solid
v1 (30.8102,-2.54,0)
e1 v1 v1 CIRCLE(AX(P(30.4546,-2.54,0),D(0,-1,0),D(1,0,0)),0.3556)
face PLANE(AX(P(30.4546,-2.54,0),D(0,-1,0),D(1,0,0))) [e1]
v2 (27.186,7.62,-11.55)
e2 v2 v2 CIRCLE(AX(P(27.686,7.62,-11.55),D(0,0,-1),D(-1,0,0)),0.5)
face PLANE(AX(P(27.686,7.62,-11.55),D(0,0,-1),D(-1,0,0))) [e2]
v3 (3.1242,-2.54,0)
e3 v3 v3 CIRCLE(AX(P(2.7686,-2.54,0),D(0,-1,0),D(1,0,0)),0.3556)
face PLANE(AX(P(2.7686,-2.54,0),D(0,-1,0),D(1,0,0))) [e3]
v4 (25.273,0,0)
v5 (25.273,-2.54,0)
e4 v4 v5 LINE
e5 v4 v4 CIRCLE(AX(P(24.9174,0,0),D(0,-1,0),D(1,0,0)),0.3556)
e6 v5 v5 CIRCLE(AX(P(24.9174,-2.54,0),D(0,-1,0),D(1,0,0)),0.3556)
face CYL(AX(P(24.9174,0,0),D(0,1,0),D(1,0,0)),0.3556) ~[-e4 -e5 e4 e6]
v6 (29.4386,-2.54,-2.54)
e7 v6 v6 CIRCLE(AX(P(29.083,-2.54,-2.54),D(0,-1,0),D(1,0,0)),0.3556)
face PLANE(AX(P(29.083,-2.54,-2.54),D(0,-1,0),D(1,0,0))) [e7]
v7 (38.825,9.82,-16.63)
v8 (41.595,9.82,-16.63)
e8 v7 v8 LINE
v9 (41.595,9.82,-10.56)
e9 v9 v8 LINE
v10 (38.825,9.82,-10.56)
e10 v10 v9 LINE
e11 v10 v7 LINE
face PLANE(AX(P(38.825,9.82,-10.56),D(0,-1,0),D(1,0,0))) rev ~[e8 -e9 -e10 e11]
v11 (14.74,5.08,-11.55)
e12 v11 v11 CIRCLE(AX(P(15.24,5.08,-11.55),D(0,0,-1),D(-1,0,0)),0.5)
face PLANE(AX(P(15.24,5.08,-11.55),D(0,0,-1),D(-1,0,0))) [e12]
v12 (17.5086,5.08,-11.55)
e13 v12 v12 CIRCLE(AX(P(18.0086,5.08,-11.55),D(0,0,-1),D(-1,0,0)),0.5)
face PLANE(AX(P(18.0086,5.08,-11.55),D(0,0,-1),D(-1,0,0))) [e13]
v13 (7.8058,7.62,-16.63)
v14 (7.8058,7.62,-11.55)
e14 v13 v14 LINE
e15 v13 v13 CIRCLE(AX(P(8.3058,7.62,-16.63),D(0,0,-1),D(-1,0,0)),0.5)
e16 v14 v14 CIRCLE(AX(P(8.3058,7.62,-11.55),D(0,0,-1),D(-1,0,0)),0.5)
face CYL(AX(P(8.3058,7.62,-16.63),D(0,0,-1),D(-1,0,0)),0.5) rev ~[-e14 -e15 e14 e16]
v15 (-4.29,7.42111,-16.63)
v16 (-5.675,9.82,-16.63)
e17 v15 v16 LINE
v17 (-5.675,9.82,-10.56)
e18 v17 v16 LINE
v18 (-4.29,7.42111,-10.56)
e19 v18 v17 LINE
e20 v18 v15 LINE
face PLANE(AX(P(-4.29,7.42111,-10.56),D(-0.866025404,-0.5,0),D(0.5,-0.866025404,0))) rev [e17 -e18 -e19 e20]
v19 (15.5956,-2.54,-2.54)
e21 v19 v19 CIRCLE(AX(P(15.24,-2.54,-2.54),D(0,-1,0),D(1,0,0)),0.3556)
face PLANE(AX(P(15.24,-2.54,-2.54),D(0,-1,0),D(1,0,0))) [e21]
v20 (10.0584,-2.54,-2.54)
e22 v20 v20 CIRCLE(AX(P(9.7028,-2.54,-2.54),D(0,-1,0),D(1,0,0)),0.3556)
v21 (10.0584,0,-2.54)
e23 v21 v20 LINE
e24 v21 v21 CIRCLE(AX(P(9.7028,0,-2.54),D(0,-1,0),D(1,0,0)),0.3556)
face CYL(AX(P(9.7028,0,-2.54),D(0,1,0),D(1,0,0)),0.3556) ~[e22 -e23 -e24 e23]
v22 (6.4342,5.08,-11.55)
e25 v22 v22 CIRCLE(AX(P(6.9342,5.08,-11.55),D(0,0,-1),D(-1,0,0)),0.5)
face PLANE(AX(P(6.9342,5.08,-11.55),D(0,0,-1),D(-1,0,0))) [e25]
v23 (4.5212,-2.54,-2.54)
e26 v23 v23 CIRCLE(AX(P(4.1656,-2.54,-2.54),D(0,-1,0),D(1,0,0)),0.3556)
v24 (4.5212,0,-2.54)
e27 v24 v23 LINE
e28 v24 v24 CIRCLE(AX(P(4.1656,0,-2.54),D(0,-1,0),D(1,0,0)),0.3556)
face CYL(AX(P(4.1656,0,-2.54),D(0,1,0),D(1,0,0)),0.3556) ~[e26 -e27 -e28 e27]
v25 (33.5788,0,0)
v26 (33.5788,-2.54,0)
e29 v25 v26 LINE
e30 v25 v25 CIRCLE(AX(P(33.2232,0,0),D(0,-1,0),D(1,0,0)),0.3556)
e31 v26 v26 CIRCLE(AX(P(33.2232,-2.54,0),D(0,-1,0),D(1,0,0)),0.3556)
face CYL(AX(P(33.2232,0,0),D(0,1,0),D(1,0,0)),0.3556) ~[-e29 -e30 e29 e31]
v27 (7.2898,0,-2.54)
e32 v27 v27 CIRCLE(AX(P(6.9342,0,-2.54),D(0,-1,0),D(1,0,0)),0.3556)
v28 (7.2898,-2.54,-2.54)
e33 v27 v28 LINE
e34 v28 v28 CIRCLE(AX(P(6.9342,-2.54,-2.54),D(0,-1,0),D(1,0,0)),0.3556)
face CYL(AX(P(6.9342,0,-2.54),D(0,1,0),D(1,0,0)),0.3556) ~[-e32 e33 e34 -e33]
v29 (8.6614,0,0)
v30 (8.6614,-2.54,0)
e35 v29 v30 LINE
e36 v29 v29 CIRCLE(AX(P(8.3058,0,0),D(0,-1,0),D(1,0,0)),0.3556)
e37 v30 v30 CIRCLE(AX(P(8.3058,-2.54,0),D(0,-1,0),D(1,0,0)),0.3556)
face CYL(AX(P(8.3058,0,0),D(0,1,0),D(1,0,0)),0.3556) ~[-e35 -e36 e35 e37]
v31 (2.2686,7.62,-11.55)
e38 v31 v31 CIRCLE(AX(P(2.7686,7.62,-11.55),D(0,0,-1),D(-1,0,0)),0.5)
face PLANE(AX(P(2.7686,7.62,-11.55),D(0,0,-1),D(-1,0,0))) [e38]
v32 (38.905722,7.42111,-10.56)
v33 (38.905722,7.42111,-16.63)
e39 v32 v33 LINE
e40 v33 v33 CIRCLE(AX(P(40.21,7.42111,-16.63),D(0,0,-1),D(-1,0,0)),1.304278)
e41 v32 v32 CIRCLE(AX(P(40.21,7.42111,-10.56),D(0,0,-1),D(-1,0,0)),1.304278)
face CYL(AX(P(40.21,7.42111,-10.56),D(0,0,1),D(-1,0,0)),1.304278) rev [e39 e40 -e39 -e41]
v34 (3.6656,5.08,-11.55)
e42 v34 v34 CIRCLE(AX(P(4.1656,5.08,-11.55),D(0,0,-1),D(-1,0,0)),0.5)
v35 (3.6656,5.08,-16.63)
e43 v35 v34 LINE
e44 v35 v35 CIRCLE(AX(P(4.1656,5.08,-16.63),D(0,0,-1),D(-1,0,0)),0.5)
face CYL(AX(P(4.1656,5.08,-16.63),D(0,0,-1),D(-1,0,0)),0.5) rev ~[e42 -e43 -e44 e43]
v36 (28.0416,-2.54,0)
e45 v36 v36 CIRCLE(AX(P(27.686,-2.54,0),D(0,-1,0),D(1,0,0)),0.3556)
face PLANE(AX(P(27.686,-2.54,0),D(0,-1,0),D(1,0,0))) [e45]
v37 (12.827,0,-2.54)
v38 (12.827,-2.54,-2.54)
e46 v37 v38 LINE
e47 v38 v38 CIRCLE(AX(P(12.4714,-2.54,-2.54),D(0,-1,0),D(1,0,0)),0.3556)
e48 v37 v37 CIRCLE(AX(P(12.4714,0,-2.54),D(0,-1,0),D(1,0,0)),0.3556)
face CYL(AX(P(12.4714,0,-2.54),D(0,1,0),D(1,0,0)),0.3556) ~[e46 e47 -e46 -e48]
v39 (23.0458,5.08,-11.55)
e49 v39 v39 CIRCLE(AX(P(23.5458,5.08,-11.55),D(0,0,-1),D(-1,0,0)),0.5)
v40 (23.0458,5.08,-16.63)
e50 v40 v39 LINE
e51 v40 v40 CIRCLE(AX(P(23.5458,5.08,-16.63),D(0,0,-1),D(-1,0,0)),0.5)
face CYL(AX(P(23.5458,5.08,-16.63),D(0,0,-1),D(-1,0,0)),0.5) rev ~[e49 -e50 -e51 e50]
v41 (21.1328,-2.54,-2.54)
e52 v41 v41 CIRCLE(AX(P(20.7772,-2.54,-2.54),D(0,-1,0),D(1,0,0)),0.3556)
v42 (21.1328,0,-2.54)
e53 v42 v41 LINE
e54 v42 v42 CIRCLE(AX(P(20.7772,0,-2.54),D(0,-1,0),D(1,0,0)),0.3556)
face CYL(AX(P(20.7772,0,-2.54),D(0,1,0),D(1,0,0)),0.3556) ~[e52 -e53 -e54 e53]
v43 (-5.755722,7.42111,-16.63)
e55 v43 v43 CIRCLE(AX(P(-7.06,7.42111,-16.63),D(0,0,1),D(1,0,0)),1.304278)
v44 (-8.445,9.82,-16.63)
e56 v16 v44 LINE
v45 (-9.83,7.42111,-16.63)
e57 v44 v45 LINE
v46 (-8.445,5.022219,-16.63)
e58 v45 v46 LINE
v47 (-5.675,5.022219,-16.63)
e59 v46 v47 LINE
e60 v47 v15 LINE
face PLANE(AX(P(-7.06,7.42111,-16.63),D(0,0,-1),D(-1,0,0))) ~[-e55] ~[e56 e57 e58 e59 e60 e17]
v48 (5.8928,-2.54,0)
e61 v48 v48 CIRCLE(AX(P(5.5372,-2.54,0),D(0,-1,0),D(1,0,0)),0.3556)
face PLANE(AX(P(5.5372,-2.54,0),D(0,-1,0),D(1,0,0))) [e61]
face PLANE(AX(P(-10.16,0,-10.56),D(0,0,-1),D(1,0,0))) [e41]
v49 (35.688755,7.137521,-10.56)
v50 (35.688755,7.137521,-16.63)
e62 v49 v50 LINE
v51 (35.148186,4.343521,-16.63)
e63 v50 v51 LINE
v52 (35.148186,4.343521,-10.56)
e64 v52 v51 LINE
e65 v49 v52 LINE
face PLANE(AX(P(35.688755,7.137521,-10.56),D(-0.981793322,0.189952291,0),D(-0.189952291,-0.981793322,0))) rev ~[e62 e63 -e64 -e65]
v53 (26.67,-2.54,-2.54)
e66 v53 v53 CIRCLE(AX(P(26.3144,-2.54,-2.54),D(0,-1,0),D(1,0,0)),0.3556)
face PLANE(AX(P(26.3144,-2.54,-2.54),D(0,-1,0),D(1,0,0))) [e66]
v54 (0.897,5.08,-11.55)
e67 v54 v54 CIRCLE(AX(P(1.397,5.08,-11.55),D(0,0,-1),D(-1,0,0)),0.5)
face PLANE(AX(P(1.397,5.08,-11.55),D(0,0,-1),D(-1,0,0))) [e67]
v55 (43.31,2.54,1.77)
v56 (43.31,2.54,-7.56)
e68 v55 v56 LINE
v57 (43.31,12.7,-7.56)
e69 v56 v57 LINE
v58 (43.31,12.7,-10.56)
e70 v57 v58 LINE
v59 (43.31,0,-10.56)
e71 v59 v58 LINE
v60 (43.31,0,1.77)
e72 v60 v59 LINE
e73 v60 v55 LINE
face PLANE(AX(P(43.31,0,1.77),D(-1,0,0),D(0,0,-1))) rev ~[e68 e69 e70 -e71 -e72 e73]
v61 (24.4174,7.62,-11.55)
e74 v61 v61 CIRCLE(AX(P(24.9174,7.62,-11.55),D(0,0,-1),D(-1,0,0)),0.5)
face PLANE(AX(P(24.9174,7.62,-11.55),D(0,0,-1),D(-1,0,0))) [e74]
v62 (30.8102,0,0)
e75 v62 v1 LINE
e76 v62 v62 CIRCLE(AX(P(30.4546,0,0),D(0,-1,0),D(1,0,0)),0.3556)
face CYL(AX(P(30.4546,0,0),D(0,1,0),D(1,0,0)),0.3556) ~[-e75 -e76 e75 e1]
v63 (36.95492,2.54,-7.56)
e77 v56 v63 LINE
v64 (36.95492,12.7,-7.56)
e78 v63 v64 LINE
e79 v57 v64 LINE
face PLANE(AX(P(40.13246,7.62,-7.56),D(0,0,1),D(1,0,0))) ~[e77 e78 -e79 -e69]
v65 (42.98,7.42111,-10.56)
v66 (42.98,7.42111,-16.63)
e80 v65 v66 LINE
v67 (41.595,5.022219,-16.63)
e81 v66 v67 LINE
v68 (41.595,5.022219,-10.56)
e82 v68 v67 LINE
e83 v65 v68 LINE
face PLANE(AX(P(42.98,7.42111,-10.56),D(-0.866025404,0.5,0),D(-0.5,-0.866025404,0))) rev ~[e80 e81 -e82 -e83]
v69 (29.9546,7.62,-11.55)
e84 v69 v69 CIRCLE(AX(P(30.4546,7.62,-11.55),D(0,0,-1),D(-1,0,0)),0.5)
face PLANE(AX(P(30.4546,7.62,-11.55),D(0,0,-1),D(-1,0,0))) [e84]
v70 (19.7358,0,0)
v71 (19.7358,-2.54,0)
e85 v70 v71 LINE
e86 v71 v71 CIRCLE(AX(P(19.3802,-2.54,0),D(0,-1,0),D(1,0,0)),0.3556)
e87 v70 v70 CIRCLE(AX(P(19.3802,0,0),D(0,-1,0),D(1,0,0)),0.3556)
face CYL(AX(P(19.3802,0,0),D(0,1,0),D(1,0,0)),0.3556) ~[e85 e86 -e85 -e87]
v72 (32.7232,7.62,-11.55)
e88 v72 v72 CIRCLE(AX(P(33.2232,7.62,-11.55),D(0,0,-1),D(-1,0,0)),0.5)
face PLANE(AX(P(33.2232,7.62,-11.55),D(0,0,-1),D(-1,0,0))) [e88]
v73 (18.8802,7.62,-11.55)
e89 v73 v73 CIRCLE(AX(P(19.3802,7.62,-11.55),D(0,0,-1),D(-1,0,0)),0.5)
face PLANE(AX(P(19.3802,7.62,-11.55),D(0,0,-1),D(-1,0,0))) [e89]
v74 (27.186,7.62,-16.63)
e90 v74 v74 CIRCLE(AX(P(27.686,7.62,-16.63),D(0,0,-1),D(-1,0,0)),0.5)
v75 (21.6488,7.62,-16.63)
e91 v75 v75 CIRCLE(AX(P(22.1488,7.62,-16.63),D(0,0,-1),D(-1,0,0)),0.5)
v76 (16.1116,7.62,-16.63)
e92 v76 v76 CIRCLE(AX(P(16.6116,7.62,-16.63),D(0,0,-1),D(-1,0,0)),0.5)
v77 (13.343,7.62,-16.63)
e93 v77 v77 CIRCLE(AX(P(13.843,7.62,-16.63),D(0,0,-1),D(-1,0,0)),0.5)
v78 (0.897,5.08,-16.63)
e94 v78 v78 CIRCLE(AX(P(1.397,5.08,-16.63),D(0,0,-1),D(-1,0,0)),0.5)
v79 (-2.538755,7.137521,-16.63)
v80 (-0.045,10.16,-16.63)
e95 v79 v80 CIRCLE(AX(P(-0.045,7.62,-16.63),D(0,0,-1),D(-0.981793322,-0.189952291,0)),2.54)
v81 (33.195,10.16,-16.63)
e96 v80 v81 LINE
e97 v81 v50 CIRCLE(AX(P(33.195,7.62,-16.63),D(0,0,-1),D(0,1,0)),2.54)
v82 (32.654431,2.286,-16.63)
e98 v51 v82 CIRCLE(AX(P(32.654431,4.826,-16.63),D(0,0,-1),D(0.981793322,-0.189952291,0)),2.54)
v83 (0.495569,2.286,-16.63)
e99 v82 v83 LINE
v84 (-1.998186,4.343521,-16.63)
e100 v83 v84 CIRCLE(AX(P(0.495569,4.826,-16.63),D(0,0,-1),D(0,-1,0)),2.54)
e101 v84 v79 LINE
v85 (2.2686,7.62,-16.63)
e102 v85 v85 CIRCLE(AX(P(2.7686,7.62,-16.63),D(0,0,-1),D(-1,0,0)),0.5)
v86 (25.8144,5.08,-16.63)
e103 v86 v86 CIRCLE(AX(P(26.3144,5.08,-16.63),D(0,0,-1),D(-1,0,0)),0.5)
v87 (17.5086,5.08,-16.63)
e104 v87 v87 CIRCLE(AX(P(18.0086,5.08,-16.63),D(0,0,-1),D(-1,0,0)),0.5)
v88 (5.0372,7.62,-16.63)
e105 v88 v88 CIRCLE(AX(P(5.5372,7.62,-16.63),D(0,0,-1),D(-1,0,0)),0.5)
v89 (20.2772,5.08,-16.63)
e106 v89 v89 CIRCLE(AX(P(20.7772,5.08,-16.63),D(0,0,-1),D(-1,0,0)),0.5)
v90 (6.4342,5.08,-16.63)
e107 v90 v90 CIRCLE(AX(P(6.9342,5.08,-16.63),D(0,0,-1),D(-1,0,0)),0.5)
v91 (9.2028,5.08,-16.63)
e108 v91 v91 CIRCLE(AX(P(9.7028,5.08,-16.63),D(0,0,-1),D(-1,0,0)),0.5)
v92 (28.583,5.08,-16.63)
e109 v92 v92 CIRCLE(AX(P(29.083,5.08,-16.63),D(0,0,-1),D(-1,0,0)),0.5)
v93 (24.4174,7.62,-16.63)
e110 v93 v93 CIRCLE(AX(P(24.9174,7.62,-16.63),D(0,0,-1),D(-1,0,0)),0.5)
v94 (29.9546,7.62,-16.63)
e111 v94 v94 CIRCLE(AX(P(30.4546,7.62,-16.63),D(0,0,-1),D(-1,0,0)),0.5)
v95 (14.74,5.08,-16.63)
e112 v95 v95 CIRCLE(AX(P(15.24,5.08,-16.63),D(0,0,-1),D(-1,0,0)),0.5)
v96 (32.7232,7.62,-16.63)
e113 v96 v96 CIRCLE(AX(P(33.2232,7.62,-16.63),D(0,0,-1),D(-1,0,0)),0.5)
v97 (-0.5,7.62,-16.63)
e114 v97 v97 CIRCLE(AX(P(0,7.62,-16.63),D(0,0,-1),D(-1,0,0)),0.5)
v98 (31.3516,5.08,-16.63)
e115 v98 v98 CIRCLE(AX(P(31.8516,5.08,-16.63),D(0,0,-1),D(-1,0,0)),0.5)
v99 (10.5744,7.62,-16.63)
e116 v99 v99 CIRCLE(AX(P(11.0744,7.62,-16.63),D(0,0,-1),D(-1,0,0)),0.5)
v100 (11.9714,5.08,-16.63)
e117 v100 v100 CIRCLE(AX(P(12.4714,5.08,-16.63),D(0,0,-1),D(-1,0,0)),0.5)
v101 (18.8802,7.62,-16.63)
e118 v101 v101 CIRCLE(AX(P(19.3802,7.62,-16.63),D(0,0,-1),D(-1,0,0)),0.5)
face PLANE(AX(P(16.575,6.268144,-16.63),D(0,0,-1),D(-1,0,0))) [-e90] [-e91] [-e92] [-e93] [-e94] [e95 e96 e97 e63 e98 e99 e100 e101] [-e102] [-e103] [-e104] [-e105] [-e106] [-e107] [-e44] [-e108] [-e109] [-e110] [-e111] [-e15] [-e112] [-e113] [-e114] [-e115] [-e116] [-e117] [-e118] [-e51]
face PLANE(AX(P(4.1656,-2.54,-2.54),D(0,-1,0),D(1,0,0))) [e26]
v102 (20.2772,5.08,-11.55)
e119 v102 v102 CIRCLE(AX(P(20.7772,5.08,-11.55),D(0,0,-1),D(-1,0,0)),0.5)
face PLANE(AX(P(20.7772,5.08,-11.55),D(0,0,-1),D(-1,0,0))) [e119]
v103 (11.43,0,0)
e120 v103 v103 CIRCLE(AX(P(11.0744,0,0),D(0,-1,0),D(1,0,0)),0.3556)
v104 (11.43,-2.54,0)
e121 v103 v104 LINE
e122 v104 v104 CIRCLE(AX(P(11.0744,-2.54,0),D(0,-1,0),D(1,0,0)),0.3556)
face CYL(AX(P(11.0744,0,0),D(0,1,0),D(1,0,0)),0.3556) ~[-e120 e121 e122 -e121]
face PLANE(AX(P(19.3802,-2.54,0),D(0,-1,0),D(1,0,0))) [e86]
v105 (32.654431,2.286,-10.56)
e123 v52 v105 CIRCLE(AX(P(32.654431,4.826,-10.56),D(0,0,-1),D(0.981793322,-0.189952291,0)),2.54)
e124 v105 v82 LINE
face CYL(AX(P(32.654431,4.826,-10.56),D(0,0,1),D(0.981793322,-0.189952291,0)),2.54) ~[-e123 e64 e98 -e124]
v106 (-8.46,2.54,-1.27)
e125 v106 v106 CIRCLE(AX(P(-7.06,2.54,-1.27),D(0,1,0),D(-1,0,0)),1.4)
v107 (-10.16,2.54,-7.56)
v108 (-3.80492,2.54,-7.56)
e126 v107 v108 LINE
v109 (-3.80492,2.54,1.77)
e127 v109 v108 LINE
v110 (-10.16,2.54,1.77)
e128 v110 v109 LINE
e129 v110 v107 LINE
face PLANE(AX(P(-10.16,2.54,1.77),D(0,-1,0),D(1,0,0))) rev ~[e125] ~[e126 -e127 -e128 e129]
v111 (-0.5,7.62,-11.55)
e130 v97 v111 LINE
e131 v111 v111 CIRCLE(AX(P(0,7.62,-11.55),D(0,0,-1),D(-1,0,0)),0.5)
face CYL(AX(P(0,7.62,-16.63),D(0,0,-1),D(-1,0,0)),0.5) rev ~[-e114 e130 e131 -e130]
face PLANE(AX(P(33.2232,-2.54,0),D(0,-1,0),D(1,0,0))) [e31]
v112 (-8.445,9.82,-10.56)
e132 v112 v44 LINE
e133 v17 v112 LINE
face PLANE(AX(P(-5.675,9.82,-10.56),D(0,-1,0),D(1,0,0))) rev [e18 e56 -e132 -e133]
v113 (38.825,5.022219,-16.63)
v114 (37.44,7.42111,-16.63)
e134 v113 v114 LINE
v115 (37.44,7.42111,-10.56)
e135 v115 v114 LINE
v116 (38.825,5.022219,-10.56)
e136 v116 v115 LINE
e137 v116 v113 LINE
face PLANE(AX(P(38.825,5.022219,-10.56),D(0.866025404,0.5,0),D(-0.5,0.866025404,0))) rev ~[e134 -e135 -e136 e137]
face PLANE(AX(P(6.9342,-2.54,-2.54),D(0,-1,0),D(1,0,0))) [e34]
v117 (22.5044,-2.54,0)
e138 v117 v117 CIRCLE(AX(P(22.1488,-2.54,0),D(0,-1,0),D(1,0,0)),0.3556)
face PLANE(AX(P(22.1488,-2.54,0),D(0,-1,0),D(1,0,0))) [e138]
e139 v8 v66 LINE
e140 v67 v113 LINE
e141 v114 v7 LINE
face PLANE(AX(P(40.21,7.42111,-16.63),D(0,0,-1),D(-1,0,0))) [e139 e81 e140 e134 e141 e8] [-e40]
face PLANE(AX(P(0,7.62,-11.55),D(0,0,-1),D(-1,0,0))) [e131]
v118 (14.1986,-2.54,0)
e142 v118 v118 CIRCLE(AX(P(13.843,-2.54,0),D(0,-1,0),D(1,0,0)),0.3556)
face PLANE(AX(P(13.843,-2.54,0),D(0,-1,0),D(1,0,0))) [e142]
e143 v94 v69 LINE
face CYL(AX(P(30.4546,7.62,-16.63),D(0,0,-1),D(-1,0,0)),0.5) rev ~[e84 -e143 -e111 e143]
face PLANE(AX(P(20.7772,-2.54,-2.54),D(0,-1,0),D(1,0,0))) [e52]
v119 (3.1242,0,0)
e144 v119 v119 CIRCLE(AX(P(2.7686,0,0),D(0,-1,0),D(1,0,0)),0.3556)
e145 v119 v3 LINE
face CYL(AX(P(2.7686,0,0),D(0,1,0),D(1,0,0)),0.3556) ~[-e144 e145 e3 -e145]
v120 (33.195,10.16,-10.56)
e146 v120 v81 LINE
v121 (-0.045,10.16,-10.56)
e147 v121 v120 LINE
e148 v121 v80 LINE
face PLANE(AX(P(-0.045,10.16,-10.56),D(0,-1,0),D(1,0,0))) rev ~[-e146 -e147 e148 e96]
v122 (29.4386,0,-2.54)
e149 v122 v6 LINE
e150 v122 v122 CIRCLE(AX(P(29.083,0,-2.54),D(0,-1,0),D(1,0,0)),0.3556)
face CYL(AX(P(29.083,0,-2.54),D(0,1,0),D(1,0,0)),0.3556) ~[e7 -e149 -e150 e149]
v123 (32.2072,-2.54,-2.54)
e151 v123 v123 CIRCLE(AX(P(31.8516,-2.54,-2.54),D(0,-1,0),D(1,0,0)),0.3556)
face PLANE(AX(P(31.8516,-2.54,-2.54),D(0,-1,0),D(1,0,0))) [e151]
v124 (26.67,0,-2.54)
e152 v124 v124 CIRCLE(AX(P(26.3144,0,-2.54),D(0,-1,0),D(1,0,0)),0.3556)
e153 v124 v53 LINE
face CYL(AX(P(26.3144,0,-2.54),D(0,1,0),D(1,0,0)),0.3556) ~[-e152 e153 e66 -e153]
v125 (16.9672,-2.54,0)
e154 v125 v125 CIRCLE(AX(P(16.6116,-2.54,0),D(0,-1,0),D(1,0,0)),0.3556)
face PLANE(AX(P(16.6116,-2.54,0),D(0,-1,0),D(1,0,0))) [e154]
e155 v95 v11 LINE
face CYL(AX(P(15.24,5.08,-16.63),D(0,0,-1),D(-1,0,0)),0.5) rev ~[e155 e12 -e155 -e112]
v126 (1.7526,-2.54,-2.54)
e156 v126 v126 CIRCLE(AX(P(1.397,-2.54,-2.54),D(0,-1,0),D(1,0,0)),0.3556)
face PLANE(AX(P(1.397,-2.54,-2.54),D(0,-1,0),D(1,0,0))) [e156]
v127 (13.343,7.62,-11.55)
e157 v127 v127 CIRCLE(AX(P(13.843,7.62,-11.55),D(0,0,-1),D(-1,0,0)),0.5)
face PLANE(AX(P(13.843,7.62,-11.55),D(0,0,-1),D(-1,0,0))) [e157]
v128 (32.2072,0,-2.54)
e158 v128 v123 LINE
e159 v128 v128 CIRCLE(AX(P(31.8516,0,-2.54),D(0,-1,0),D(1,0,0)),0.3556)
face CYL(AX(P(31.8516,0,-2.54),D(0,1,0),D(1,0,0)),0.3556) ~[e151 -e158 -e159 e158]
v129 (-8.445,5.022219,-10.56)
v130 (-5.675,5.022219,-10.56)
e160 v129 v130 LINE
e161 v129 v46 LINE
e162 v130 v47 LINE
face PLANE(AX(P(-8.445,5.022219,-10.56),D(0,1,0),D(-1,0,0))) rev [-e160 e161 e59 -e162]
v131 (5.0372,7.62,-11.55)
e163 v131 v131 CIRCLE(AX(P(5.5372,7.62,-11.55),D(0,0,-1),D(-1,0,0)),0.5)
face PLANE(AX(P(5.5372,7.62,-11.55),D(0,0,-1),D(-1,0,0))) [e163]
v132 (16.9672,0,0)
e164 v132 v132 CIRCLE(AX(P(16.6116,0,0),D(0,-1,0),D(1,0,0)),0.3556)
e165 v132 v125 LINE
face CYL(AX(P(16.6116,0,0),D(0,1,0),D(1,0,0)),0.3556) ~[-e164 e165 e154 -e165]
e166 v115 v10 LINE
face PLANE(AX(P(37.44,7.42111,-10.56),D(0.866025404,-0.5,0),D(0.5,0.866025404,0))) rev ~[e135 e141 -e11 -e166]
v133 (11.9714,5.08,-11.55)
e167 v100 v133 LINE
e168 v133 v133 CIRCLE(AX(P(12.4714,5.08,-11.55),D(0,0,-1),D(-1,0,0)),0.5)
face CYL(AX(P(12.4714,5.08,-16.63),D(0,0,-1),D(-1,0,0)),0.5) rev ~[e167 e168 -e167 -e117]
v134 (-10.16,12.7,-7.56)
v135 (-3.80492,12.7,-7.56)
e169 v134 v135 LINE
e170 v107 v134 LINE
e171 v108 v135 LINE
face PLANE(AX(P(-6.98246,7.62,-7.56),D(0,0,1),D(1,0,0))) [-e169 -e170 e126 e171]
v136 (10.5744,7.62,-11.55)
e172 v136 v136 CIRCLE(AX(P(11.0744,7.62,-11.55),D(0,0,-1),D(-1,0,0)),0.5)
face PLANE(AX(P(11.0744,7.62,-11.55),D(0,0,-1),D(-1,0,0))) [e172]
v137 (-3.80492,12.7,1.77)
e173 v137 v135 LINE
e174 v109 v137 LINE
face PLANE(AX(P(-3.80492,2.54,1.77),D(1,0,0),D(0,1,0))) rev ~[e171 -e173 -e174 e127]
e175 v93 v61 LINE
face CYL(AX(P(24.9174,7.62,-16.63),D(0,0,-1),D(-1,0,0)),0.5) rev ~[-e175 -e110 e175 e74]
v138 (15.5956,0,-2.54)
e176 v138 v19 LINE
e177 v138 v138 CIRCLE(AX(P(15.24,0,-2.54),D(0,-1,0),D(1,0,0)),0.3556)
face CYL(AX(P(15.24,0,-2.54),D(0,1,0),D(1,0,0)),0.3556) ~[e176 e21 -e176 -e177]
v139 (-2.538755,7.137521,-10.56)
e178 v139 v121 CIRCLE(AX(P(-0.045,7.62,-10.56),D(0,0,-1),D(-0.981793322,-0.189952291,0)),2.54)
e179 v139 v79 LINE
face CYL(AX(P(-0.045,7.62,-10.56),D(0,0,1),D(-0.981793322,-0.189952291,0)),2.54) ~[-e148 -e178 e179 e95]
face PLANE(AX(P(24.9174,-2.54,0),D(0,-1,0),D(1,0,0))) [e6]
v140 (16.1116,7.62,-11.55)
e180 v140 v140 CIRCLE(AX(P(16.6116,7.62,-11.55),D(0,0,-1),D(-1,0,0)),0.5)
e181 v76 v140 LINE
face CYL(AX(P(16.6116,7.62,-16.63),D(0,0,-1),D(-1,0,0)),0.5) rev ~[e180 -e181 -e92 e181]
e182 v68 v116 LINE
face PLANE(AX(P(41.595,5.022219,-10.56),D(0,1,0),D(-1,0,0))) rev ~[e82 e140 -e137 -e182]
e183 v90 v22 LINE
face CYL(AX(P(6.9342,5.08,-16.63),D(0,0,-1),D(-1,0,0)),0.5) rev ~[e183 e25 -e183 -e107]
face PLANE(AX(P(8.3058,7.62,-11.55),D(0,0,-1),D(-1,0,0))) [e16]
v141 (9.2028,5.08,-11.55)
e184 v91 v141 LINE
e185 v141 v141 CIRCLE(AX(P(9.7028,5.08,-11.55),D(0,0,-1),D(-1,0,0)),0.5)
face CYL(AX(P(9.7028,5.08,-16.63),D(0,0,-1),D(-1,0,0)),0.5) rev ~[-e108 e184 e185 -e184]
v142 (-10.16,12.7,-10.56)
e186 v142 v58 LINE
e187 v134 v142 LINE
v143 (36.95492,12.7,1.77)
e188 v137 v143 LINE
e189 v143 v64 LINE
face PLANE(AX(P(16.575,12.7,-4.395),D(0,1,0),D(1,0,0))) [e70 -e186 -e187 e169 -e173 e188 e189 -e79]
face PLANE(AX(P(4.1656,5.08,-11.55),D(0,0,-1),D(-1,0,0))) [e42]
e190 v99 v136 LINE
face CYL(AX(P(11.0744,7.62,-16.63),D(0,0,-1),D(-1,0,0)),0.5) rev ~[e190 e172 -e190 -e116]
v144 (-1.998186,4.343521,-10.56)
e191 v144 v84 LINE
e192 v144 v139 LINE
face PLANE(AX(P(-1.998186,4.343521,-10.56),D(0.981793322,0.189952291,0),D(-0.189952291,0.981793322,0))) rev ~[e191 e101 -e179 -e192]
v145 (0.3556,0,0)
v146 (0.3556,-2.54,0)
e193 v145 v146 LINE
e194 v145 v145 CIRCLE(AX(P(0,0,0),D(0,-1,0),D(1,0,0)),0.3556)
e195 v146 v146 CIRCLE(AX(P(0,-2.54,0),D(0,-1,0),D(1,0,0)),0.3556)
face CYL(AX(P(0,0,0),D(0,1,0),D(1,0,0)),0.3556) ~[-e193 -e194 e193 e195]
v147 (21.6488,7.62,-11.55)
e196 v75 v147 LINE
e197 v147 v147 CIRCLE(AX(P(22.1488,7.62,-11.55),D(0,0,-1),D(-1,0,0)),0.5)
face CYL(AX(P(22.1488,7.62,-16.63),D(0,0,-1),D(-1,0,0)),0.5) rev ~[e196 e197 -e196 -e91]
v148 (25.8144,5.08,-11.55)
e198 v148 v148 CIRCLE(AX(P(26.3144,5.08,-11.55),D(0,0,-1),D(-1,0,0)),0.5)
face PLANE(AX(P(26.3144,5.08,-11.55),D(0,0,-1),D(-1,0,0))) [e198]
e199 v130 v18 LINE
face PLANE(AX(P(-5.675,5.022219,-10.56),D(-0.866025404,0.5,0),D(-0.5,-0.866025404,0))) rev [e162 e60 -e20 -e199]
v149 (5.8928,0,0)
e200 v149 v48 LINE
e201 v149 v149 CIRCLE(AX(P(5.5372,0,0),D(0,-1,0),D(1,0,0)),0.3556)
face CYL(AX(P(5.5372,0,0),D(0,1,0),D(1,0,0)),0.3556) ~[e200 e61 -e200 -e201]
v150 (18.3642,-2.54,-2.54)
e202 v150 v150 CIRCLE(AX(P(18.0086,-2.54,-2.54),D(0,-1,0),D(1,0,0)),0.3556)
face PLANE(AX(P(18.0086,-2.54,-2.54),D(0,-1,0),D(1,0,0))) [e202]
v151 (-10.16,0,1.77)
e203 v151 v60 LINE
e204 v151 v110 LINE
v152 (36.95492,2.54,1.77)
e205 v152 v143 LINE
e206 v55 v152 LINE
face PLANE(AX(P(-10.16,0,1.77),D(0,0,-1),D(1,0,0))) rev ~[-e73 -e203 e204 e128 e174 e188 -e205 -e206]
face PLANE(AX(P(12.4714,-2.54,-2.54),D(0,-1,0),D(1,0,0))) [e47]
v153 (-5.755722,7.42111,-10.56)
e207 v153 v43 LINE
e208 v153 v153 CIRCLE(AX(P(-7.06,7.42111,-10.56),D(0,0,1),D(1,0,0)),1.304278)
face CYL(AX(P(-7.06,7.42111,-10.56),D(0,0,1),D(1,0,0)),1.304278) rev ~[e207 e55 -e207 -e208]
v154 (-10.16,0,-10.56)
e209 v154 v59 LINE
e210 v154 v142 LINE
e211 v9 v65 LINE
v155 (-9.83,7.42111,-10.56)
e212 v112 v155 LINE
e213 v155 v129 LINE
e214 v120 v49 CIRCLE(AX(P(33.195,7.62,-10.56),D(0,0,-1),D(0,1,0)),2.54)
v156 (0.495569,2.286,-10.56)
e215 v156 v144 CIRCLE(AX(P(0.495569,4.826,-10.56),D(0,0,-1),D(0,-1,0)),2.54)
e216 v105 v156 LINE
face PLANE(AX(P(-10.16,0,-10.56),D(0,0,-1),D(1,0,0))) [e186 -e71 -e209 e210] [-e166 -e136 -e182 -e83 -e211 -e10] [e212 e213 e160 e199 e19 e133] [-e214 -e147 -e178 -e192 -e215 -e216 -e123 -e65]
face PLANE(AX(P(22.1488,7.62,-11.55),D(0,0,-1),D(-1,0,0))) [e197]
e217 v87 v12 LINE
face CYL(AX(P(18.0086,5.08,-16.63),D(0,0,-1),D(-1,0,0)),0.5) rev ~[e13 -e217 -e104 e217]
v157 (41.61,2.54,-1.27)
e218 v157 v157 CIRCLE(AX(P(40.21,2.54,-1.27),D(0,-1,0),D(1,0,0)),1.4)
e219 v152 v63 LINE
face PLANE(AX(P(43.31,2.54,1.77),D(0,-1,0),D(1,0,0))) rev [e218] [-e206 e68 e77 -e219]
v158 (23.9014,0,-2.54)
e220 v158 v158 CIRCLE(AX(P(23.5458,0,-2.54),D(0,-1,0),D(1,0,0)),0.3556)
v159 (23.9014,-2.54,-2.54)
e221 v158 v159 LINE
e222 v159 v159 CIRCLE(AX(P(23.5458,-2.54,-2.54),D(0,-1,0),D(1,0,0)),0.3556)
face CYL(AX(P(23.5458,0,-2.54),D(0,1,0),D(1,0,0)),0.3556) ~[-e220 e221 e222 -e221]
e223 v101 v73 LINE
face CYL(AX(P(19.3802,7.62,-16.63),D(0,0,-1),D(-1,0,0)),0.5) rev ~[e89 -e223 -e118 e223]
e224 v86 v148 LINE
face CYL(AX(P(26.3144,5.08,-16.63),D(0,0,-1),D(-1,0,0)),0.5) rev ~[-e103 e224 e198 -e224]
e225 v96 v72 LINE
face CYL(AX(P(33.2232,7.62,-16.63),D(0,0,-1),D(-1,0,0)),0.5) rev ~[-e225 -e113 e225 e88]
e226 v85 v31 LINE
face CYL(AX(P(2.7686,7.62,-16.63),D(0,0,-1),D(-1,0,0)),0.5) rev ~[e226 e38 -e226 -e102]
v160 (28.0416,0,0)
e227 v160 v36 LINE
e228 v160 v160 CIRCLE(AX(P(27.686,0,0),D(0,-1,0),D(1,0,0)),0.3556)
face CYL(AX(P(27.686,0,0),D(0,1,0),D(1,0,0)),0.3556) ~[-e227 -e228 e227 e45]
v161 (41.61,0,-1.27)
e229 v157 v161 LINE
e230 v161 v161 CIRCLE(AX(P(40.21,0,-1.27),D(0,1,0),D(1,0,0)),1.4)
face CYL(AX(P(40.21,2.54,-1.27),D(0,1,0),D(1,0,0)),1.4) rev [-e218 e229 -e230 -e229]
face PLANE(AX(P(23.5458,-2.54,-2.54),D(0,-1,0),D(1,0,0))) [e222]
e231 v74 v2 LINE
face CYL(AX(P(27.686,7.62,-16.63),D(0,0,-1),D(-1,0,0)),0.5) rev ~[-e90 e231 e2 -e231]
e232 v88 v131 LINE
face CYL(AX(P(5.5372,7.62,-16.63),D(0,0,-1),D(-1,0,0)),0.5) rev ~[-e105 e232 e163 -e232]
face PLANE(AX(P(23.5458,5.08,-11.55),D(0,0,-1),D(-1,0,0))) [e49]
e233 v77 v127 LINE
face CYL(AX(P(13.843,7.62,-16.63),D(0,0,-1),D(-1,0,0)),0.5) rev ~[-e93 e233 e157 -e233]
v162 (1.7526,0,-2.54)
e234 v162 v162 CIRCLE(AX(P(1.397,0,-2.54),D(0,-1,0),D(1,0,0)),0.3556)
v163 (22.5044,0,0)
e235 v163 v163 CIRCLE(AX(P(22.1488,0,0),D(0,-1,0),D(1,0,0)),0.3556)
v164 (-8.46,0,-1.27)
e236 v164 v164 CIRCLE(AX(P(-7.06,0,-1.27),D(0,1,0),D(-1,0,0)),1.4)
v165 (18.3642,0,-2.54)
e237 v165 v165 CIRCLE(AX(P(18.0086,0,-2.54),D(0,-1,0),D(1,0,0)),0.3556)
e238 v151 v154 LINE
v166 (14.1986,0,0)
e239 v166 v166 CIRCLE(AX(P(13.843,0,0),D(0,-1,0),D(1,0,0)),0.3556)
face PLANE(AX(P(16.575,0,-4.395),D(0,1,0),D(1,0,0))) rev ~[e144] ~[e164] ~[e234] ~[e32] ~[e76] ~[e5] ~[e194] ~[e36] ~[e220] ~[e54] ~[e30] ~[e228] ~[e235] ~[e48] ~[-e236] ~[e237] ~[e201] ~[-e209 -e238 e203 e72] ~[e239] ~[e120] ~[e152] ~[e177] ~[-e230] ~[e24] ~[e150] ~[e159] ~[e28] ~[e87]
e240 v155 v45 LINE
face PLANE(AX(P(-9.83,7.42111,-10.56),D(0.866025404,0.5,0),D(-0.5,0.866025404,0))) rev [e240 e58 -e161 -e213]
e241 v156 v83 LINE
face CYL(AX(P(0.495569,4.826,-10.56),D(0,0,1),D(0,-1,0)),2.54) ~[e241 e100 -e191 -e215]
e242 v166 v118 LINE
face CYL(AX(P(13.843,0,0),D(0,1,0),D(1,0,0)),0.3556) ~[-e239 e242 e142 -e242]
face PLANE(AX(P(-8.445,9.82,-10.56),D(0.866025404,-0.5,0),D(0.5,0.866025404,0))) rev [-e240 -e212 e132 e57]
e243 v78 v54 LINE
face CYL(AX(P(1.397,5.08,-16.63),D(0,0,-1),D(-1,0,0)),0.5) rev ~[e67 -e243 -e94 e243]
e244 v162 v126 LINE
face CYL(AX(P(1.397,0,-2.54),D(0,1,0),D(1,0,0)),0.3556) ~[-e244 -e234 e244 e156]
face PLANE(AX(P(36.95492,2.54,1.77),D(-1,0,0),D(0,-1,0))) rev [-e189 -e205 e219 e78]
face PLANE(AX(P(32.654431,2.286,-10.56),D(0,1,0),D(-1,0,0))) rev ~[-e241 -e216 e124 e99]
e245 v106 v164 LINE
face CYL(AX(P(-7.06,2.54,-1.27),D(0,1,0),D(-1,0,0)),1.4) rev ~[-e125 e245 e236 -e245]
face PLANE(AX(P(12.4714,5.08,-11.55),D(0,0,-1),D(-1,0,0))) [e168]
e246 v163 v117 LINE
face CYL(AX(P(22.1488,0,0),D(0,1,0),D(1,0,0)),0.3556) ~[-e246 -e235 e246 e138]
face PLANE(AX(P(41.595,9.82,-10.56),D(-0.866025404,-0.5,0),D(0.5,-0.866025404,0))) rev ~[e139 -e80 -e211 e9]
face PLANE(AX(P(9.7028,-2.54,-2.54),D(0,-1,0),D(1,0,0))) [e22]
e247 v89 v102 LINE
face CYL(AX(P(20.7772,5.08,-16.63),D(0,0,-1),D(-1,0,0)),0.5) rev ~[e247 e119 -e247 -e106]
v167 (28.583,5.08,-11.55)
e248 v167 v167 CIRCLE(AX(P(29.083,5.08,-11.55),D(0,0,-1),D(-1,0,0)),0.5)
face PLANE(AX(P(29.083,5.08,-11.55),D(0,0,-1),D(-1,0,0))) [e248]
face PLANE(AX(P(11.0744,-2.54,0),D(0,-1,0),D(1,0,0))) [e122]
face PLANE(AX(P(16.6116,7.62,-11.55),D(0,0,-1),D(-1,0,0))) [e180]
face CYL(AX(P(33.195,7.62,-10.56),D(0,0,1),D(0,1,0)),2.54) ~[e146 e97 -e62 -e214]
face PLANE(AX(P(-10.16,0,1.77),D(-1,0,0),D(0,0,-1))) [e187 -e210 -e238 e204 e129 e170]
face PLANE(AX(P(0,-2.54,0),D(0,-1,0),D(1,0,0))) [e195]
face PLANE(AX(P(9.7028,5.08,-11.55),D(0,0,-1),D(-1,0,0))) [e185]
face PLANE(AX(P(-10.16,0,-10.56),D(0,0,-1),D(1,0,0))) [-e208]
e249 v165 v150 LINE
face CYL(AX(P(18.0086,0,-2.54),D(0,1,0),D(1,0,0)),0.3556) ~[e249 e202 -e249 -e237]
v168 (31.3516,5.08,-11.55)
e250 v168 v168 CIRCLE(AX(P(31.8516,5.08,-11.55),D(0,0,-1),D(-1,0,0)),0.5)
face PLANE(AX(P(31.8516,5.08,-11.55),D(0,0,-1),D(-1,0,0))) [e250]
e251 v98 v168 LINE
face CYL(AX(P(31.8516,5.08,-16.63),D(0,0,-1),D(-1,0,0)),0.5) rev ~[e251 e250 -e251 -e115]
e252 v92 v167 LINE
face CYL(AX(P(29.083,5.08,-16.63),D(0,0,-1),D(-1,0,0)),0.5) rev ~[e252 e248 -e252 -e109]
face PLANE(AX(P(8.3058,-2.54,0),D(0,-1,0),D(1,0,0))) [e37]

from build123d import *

# Parameters (mm, degrees)
SKETCH1_W           = 53.47
SKETCH1_H           = 12.33
BASE_EXTRUDE_DEPTH  = 12.7
BOSS_EXTRUDE1_DEPTH = 6.07
SKETCH4_R           = 0.5
CUT_EXTRUDE1_DEPTH  = 5.08
SKETCH5_R           = 0.5
CUT_EXTRUDE2_DEPTH  = 5.08
SKETCH6_R           = 0.3556
BOSS_EXTRUDE2_DEPTH = 2.54
LPATTERN1_COUNT     = 13
LPATTERN1_PITCH     = 2.7686
LPATTERN2_COUNT     = 13
LPATTERN2_PITCH     = 2.7686
LPATTERN3_COUNT     = 12
LPATTERN3_PITCH     = 2.7686
SKETCH7_R           = 0.3556
BOSS_EXTRUDE3_DEPTH = 2.54
LPATTERN4_COUNT     = 12
LPATTERN4_PITCH     = 2.7686
SKETCH12_R          = 1.304277921
BOSS_EXTRUDE4_DEPTH = 6.07
SKETCH9_W           = 6.35508
SKETCH9_H           = 10.16
CUT_EXTRUDE3_DEPTH  = 9.33
SKETCH11_R          = 1.4
CUT_EXTRUDE4_DEPTH  = 6.08


with BuildPart() as part:
    # Sketch1 → Base-Extrude (new body)
    with BuildSketch(Plane(origin=(0, 0, 0), x_dir=(1, 0, 0), z_dir=(0, 1, 0))):
        with Locations((16.575, 4.395)):
            Rectangle(SKETCH1_W, SKETCH1_H)
    extrude(amount=BASE_EXTRUDE_DEPTH)

    # Sketch2 → Boss-Extrude1 (add)
    with BuildSketch(Plane(origin=(0, 0, -10.56), x_dir=(-1, 0, 0), z_dir=(0, 0, -1))):
        with BuildLine():
            Line((-32.654431338, 2.286), (-0.495568662, 2.286))
            ThreePointArc((-0.495568662, 2.286), (1.120925043, 2.8667787), (1.998186376, 4.34352118))
            Line((1.998186376, 4.34352118), (2.538755038, 7.13752118))
            ThreePointArc((2.538755038, 7.13752118), (2.0042213, 9.236493705), (0.045, 10.16))
            Line((0.045, 10.16), (-33.195, 10.16))
            ThreePointArc((-33.195, 10.16), (-35.1542213, 9.236493705), (-35.688755038, 7.13752118))
            Line((-35.688755038, 7.13752118), (-35.148186376, 4.34352118))
            ThreePointArc((-35.148186376, 4.34352118), (-34.270925043, 2.8667787), (-32.654431338, 2.286))
        make_face()
    extrude(amount=BOSS_EXTRUDE1_DEPTH)

    # Sketch4 → Cut-Extrude1 (cut)
    with BuildSketch(Plane(origin=(0, 0, -16.63), x_dir=(-1, 0, 0), z_dir=(0, 0, -1))):
        with Locations((0, 7.62)):
            Circle(SKETCH4_R)
    cut_extrude1 = extrude(amount=-CUT_EXTRUDE1_DEPTH, mode=Mode.SUBTRACT)

    # Sketch5 → Cut-Extrude2 (cut)
    with BuildSketch(Plane(origin=(0, 0, -16.63), x_dir=(-1, 0, 0), z_dir=(0, 0, -1))):
        with Locations((-1.397, 5.08)):
            Circle(SKETCH5_R)
    cut_extrude2 = extrude(amount=-CUT_EXTRUDE2_DEPTH, mode=Mode.SUBTRACT)

    # Sketch6 → Boss-Extrude2 (add)
    with BuildSketch(Plane.XZ):
        Circle(SKETCH6_R)
    boss_extrude2 = extrude(amount=BOSS_EXTRUDE2_DEPTH)

    # LPattern1: Boss-Extrude2 ×13
    with Locations(*[(i * LPATTERN1_PITCH, 0, 0) for i in range(1, LPATTERN1_COUNT)]):
        add(boss_extrude2)

    # LPattern2: Cut-Extrude1 ×13
    with Locations(*[(i * LPATTERN2_PITCH, 0, 0) for i in range(1, LPATTERN2_COUNT)]):
        add(cut_extrude1, mode=Mode.SUBTRACT)

    # LPattern3: Cut-Extrude2 ×12
    with Locations(*[(i * LPATTERN3_PITCH, 0, 0) for i in range(1, LPATTERN3_COUNT)]):
        add(cut_extrude2, mode=Mode.SUBTRACT)

    # Sketch7 → Boss-Extrude3 (add)
    with BuildSketch(Plane.XZ):
        with Locations((1.397, -2.54)):
            Circle(SKETCH7_R)
    boss_extrude3 = extrude(amount=BOSS_EXTRUDE3_DEPTH)

    # LPattern4: Boss-Extrude3 ×12
    with Locations(*[(i * LPATTERN4_PITCH, 0, 0) for i in range(1, LPATTERN4_COUNT)]):
        add(boss_extrude3)

    # Sketch12 → Boss-Extrude4 (add)
    with BuildSketch(Plane(origin=(0, 0, -10.56), x_dir=(-1, 0, 0), z_dir=(0, 0, -1))):
        Polygon((-41.595, 9.82), (-42.98, 7.421109632), (-41.595, 5.022219263), (-38.825, 5.022219263), (-37.44, 7.421109632), (-38.825, 9.82), align=None)
        with Locations((-40.21, 7.421109632)):
            Circle(SKETCH12_R, mode=Mode.SUBTRACT)
    boss_extrude4 = extrude(amount=BOSS_EXTRUDE4_DEPTH)

    # Sketch9 → Cut-Extrude3 (cut)
    with BuildSketch(Plane.XY.offset(1.77)):
        with Locations((-6.98246, 7.62)):
            Rectangle(SKETCH9_W, SKETCH9_H)
    cut_extrude3 = extrude(amount=-CUT_EXTRUDE3_DEPTH, mode=Mode.SUBTRACT)

    # Sketch11 → Cut-Extrude4 (cut, through all)
    with BuildSketch(Plane(origin=(0, 2.54, 0), x_dir=(-1, 0, 0), z_dir=(0, 1, 0))):
        with Locations((7.06, -1.27)):
            Circle(SKETCH11_R)
    cut_extrude4 = extrude(amount=-CUT_EXTRUDE4_DEPTH, mode=Mode.SUBTRACT)

    # Mirror1: Boss-Extrude4, Cut-Extrude3, Cut-Extrude4 across plane
    add(boss_extrude4.mirror(Plane(origin=(16.575, 0, 0), x_dir=(0, 0, 1), z_dir=(1, 0, 0))))
    add(cut_extrude3.mirror(Plane(origin=(16.575, 0, 0), x_dir=(0, 0, 1), z_dir=(1, 0, 0))), mode=Mode.SUBTRACT)
    add(cut_extrude4.mirror(Plane(origin=(16.575, 0, 0), x_dir=(0, 0, 1), z_dir=(1, 0, 0))), mode=Mode.SUBTRACT)


solid = part.part
